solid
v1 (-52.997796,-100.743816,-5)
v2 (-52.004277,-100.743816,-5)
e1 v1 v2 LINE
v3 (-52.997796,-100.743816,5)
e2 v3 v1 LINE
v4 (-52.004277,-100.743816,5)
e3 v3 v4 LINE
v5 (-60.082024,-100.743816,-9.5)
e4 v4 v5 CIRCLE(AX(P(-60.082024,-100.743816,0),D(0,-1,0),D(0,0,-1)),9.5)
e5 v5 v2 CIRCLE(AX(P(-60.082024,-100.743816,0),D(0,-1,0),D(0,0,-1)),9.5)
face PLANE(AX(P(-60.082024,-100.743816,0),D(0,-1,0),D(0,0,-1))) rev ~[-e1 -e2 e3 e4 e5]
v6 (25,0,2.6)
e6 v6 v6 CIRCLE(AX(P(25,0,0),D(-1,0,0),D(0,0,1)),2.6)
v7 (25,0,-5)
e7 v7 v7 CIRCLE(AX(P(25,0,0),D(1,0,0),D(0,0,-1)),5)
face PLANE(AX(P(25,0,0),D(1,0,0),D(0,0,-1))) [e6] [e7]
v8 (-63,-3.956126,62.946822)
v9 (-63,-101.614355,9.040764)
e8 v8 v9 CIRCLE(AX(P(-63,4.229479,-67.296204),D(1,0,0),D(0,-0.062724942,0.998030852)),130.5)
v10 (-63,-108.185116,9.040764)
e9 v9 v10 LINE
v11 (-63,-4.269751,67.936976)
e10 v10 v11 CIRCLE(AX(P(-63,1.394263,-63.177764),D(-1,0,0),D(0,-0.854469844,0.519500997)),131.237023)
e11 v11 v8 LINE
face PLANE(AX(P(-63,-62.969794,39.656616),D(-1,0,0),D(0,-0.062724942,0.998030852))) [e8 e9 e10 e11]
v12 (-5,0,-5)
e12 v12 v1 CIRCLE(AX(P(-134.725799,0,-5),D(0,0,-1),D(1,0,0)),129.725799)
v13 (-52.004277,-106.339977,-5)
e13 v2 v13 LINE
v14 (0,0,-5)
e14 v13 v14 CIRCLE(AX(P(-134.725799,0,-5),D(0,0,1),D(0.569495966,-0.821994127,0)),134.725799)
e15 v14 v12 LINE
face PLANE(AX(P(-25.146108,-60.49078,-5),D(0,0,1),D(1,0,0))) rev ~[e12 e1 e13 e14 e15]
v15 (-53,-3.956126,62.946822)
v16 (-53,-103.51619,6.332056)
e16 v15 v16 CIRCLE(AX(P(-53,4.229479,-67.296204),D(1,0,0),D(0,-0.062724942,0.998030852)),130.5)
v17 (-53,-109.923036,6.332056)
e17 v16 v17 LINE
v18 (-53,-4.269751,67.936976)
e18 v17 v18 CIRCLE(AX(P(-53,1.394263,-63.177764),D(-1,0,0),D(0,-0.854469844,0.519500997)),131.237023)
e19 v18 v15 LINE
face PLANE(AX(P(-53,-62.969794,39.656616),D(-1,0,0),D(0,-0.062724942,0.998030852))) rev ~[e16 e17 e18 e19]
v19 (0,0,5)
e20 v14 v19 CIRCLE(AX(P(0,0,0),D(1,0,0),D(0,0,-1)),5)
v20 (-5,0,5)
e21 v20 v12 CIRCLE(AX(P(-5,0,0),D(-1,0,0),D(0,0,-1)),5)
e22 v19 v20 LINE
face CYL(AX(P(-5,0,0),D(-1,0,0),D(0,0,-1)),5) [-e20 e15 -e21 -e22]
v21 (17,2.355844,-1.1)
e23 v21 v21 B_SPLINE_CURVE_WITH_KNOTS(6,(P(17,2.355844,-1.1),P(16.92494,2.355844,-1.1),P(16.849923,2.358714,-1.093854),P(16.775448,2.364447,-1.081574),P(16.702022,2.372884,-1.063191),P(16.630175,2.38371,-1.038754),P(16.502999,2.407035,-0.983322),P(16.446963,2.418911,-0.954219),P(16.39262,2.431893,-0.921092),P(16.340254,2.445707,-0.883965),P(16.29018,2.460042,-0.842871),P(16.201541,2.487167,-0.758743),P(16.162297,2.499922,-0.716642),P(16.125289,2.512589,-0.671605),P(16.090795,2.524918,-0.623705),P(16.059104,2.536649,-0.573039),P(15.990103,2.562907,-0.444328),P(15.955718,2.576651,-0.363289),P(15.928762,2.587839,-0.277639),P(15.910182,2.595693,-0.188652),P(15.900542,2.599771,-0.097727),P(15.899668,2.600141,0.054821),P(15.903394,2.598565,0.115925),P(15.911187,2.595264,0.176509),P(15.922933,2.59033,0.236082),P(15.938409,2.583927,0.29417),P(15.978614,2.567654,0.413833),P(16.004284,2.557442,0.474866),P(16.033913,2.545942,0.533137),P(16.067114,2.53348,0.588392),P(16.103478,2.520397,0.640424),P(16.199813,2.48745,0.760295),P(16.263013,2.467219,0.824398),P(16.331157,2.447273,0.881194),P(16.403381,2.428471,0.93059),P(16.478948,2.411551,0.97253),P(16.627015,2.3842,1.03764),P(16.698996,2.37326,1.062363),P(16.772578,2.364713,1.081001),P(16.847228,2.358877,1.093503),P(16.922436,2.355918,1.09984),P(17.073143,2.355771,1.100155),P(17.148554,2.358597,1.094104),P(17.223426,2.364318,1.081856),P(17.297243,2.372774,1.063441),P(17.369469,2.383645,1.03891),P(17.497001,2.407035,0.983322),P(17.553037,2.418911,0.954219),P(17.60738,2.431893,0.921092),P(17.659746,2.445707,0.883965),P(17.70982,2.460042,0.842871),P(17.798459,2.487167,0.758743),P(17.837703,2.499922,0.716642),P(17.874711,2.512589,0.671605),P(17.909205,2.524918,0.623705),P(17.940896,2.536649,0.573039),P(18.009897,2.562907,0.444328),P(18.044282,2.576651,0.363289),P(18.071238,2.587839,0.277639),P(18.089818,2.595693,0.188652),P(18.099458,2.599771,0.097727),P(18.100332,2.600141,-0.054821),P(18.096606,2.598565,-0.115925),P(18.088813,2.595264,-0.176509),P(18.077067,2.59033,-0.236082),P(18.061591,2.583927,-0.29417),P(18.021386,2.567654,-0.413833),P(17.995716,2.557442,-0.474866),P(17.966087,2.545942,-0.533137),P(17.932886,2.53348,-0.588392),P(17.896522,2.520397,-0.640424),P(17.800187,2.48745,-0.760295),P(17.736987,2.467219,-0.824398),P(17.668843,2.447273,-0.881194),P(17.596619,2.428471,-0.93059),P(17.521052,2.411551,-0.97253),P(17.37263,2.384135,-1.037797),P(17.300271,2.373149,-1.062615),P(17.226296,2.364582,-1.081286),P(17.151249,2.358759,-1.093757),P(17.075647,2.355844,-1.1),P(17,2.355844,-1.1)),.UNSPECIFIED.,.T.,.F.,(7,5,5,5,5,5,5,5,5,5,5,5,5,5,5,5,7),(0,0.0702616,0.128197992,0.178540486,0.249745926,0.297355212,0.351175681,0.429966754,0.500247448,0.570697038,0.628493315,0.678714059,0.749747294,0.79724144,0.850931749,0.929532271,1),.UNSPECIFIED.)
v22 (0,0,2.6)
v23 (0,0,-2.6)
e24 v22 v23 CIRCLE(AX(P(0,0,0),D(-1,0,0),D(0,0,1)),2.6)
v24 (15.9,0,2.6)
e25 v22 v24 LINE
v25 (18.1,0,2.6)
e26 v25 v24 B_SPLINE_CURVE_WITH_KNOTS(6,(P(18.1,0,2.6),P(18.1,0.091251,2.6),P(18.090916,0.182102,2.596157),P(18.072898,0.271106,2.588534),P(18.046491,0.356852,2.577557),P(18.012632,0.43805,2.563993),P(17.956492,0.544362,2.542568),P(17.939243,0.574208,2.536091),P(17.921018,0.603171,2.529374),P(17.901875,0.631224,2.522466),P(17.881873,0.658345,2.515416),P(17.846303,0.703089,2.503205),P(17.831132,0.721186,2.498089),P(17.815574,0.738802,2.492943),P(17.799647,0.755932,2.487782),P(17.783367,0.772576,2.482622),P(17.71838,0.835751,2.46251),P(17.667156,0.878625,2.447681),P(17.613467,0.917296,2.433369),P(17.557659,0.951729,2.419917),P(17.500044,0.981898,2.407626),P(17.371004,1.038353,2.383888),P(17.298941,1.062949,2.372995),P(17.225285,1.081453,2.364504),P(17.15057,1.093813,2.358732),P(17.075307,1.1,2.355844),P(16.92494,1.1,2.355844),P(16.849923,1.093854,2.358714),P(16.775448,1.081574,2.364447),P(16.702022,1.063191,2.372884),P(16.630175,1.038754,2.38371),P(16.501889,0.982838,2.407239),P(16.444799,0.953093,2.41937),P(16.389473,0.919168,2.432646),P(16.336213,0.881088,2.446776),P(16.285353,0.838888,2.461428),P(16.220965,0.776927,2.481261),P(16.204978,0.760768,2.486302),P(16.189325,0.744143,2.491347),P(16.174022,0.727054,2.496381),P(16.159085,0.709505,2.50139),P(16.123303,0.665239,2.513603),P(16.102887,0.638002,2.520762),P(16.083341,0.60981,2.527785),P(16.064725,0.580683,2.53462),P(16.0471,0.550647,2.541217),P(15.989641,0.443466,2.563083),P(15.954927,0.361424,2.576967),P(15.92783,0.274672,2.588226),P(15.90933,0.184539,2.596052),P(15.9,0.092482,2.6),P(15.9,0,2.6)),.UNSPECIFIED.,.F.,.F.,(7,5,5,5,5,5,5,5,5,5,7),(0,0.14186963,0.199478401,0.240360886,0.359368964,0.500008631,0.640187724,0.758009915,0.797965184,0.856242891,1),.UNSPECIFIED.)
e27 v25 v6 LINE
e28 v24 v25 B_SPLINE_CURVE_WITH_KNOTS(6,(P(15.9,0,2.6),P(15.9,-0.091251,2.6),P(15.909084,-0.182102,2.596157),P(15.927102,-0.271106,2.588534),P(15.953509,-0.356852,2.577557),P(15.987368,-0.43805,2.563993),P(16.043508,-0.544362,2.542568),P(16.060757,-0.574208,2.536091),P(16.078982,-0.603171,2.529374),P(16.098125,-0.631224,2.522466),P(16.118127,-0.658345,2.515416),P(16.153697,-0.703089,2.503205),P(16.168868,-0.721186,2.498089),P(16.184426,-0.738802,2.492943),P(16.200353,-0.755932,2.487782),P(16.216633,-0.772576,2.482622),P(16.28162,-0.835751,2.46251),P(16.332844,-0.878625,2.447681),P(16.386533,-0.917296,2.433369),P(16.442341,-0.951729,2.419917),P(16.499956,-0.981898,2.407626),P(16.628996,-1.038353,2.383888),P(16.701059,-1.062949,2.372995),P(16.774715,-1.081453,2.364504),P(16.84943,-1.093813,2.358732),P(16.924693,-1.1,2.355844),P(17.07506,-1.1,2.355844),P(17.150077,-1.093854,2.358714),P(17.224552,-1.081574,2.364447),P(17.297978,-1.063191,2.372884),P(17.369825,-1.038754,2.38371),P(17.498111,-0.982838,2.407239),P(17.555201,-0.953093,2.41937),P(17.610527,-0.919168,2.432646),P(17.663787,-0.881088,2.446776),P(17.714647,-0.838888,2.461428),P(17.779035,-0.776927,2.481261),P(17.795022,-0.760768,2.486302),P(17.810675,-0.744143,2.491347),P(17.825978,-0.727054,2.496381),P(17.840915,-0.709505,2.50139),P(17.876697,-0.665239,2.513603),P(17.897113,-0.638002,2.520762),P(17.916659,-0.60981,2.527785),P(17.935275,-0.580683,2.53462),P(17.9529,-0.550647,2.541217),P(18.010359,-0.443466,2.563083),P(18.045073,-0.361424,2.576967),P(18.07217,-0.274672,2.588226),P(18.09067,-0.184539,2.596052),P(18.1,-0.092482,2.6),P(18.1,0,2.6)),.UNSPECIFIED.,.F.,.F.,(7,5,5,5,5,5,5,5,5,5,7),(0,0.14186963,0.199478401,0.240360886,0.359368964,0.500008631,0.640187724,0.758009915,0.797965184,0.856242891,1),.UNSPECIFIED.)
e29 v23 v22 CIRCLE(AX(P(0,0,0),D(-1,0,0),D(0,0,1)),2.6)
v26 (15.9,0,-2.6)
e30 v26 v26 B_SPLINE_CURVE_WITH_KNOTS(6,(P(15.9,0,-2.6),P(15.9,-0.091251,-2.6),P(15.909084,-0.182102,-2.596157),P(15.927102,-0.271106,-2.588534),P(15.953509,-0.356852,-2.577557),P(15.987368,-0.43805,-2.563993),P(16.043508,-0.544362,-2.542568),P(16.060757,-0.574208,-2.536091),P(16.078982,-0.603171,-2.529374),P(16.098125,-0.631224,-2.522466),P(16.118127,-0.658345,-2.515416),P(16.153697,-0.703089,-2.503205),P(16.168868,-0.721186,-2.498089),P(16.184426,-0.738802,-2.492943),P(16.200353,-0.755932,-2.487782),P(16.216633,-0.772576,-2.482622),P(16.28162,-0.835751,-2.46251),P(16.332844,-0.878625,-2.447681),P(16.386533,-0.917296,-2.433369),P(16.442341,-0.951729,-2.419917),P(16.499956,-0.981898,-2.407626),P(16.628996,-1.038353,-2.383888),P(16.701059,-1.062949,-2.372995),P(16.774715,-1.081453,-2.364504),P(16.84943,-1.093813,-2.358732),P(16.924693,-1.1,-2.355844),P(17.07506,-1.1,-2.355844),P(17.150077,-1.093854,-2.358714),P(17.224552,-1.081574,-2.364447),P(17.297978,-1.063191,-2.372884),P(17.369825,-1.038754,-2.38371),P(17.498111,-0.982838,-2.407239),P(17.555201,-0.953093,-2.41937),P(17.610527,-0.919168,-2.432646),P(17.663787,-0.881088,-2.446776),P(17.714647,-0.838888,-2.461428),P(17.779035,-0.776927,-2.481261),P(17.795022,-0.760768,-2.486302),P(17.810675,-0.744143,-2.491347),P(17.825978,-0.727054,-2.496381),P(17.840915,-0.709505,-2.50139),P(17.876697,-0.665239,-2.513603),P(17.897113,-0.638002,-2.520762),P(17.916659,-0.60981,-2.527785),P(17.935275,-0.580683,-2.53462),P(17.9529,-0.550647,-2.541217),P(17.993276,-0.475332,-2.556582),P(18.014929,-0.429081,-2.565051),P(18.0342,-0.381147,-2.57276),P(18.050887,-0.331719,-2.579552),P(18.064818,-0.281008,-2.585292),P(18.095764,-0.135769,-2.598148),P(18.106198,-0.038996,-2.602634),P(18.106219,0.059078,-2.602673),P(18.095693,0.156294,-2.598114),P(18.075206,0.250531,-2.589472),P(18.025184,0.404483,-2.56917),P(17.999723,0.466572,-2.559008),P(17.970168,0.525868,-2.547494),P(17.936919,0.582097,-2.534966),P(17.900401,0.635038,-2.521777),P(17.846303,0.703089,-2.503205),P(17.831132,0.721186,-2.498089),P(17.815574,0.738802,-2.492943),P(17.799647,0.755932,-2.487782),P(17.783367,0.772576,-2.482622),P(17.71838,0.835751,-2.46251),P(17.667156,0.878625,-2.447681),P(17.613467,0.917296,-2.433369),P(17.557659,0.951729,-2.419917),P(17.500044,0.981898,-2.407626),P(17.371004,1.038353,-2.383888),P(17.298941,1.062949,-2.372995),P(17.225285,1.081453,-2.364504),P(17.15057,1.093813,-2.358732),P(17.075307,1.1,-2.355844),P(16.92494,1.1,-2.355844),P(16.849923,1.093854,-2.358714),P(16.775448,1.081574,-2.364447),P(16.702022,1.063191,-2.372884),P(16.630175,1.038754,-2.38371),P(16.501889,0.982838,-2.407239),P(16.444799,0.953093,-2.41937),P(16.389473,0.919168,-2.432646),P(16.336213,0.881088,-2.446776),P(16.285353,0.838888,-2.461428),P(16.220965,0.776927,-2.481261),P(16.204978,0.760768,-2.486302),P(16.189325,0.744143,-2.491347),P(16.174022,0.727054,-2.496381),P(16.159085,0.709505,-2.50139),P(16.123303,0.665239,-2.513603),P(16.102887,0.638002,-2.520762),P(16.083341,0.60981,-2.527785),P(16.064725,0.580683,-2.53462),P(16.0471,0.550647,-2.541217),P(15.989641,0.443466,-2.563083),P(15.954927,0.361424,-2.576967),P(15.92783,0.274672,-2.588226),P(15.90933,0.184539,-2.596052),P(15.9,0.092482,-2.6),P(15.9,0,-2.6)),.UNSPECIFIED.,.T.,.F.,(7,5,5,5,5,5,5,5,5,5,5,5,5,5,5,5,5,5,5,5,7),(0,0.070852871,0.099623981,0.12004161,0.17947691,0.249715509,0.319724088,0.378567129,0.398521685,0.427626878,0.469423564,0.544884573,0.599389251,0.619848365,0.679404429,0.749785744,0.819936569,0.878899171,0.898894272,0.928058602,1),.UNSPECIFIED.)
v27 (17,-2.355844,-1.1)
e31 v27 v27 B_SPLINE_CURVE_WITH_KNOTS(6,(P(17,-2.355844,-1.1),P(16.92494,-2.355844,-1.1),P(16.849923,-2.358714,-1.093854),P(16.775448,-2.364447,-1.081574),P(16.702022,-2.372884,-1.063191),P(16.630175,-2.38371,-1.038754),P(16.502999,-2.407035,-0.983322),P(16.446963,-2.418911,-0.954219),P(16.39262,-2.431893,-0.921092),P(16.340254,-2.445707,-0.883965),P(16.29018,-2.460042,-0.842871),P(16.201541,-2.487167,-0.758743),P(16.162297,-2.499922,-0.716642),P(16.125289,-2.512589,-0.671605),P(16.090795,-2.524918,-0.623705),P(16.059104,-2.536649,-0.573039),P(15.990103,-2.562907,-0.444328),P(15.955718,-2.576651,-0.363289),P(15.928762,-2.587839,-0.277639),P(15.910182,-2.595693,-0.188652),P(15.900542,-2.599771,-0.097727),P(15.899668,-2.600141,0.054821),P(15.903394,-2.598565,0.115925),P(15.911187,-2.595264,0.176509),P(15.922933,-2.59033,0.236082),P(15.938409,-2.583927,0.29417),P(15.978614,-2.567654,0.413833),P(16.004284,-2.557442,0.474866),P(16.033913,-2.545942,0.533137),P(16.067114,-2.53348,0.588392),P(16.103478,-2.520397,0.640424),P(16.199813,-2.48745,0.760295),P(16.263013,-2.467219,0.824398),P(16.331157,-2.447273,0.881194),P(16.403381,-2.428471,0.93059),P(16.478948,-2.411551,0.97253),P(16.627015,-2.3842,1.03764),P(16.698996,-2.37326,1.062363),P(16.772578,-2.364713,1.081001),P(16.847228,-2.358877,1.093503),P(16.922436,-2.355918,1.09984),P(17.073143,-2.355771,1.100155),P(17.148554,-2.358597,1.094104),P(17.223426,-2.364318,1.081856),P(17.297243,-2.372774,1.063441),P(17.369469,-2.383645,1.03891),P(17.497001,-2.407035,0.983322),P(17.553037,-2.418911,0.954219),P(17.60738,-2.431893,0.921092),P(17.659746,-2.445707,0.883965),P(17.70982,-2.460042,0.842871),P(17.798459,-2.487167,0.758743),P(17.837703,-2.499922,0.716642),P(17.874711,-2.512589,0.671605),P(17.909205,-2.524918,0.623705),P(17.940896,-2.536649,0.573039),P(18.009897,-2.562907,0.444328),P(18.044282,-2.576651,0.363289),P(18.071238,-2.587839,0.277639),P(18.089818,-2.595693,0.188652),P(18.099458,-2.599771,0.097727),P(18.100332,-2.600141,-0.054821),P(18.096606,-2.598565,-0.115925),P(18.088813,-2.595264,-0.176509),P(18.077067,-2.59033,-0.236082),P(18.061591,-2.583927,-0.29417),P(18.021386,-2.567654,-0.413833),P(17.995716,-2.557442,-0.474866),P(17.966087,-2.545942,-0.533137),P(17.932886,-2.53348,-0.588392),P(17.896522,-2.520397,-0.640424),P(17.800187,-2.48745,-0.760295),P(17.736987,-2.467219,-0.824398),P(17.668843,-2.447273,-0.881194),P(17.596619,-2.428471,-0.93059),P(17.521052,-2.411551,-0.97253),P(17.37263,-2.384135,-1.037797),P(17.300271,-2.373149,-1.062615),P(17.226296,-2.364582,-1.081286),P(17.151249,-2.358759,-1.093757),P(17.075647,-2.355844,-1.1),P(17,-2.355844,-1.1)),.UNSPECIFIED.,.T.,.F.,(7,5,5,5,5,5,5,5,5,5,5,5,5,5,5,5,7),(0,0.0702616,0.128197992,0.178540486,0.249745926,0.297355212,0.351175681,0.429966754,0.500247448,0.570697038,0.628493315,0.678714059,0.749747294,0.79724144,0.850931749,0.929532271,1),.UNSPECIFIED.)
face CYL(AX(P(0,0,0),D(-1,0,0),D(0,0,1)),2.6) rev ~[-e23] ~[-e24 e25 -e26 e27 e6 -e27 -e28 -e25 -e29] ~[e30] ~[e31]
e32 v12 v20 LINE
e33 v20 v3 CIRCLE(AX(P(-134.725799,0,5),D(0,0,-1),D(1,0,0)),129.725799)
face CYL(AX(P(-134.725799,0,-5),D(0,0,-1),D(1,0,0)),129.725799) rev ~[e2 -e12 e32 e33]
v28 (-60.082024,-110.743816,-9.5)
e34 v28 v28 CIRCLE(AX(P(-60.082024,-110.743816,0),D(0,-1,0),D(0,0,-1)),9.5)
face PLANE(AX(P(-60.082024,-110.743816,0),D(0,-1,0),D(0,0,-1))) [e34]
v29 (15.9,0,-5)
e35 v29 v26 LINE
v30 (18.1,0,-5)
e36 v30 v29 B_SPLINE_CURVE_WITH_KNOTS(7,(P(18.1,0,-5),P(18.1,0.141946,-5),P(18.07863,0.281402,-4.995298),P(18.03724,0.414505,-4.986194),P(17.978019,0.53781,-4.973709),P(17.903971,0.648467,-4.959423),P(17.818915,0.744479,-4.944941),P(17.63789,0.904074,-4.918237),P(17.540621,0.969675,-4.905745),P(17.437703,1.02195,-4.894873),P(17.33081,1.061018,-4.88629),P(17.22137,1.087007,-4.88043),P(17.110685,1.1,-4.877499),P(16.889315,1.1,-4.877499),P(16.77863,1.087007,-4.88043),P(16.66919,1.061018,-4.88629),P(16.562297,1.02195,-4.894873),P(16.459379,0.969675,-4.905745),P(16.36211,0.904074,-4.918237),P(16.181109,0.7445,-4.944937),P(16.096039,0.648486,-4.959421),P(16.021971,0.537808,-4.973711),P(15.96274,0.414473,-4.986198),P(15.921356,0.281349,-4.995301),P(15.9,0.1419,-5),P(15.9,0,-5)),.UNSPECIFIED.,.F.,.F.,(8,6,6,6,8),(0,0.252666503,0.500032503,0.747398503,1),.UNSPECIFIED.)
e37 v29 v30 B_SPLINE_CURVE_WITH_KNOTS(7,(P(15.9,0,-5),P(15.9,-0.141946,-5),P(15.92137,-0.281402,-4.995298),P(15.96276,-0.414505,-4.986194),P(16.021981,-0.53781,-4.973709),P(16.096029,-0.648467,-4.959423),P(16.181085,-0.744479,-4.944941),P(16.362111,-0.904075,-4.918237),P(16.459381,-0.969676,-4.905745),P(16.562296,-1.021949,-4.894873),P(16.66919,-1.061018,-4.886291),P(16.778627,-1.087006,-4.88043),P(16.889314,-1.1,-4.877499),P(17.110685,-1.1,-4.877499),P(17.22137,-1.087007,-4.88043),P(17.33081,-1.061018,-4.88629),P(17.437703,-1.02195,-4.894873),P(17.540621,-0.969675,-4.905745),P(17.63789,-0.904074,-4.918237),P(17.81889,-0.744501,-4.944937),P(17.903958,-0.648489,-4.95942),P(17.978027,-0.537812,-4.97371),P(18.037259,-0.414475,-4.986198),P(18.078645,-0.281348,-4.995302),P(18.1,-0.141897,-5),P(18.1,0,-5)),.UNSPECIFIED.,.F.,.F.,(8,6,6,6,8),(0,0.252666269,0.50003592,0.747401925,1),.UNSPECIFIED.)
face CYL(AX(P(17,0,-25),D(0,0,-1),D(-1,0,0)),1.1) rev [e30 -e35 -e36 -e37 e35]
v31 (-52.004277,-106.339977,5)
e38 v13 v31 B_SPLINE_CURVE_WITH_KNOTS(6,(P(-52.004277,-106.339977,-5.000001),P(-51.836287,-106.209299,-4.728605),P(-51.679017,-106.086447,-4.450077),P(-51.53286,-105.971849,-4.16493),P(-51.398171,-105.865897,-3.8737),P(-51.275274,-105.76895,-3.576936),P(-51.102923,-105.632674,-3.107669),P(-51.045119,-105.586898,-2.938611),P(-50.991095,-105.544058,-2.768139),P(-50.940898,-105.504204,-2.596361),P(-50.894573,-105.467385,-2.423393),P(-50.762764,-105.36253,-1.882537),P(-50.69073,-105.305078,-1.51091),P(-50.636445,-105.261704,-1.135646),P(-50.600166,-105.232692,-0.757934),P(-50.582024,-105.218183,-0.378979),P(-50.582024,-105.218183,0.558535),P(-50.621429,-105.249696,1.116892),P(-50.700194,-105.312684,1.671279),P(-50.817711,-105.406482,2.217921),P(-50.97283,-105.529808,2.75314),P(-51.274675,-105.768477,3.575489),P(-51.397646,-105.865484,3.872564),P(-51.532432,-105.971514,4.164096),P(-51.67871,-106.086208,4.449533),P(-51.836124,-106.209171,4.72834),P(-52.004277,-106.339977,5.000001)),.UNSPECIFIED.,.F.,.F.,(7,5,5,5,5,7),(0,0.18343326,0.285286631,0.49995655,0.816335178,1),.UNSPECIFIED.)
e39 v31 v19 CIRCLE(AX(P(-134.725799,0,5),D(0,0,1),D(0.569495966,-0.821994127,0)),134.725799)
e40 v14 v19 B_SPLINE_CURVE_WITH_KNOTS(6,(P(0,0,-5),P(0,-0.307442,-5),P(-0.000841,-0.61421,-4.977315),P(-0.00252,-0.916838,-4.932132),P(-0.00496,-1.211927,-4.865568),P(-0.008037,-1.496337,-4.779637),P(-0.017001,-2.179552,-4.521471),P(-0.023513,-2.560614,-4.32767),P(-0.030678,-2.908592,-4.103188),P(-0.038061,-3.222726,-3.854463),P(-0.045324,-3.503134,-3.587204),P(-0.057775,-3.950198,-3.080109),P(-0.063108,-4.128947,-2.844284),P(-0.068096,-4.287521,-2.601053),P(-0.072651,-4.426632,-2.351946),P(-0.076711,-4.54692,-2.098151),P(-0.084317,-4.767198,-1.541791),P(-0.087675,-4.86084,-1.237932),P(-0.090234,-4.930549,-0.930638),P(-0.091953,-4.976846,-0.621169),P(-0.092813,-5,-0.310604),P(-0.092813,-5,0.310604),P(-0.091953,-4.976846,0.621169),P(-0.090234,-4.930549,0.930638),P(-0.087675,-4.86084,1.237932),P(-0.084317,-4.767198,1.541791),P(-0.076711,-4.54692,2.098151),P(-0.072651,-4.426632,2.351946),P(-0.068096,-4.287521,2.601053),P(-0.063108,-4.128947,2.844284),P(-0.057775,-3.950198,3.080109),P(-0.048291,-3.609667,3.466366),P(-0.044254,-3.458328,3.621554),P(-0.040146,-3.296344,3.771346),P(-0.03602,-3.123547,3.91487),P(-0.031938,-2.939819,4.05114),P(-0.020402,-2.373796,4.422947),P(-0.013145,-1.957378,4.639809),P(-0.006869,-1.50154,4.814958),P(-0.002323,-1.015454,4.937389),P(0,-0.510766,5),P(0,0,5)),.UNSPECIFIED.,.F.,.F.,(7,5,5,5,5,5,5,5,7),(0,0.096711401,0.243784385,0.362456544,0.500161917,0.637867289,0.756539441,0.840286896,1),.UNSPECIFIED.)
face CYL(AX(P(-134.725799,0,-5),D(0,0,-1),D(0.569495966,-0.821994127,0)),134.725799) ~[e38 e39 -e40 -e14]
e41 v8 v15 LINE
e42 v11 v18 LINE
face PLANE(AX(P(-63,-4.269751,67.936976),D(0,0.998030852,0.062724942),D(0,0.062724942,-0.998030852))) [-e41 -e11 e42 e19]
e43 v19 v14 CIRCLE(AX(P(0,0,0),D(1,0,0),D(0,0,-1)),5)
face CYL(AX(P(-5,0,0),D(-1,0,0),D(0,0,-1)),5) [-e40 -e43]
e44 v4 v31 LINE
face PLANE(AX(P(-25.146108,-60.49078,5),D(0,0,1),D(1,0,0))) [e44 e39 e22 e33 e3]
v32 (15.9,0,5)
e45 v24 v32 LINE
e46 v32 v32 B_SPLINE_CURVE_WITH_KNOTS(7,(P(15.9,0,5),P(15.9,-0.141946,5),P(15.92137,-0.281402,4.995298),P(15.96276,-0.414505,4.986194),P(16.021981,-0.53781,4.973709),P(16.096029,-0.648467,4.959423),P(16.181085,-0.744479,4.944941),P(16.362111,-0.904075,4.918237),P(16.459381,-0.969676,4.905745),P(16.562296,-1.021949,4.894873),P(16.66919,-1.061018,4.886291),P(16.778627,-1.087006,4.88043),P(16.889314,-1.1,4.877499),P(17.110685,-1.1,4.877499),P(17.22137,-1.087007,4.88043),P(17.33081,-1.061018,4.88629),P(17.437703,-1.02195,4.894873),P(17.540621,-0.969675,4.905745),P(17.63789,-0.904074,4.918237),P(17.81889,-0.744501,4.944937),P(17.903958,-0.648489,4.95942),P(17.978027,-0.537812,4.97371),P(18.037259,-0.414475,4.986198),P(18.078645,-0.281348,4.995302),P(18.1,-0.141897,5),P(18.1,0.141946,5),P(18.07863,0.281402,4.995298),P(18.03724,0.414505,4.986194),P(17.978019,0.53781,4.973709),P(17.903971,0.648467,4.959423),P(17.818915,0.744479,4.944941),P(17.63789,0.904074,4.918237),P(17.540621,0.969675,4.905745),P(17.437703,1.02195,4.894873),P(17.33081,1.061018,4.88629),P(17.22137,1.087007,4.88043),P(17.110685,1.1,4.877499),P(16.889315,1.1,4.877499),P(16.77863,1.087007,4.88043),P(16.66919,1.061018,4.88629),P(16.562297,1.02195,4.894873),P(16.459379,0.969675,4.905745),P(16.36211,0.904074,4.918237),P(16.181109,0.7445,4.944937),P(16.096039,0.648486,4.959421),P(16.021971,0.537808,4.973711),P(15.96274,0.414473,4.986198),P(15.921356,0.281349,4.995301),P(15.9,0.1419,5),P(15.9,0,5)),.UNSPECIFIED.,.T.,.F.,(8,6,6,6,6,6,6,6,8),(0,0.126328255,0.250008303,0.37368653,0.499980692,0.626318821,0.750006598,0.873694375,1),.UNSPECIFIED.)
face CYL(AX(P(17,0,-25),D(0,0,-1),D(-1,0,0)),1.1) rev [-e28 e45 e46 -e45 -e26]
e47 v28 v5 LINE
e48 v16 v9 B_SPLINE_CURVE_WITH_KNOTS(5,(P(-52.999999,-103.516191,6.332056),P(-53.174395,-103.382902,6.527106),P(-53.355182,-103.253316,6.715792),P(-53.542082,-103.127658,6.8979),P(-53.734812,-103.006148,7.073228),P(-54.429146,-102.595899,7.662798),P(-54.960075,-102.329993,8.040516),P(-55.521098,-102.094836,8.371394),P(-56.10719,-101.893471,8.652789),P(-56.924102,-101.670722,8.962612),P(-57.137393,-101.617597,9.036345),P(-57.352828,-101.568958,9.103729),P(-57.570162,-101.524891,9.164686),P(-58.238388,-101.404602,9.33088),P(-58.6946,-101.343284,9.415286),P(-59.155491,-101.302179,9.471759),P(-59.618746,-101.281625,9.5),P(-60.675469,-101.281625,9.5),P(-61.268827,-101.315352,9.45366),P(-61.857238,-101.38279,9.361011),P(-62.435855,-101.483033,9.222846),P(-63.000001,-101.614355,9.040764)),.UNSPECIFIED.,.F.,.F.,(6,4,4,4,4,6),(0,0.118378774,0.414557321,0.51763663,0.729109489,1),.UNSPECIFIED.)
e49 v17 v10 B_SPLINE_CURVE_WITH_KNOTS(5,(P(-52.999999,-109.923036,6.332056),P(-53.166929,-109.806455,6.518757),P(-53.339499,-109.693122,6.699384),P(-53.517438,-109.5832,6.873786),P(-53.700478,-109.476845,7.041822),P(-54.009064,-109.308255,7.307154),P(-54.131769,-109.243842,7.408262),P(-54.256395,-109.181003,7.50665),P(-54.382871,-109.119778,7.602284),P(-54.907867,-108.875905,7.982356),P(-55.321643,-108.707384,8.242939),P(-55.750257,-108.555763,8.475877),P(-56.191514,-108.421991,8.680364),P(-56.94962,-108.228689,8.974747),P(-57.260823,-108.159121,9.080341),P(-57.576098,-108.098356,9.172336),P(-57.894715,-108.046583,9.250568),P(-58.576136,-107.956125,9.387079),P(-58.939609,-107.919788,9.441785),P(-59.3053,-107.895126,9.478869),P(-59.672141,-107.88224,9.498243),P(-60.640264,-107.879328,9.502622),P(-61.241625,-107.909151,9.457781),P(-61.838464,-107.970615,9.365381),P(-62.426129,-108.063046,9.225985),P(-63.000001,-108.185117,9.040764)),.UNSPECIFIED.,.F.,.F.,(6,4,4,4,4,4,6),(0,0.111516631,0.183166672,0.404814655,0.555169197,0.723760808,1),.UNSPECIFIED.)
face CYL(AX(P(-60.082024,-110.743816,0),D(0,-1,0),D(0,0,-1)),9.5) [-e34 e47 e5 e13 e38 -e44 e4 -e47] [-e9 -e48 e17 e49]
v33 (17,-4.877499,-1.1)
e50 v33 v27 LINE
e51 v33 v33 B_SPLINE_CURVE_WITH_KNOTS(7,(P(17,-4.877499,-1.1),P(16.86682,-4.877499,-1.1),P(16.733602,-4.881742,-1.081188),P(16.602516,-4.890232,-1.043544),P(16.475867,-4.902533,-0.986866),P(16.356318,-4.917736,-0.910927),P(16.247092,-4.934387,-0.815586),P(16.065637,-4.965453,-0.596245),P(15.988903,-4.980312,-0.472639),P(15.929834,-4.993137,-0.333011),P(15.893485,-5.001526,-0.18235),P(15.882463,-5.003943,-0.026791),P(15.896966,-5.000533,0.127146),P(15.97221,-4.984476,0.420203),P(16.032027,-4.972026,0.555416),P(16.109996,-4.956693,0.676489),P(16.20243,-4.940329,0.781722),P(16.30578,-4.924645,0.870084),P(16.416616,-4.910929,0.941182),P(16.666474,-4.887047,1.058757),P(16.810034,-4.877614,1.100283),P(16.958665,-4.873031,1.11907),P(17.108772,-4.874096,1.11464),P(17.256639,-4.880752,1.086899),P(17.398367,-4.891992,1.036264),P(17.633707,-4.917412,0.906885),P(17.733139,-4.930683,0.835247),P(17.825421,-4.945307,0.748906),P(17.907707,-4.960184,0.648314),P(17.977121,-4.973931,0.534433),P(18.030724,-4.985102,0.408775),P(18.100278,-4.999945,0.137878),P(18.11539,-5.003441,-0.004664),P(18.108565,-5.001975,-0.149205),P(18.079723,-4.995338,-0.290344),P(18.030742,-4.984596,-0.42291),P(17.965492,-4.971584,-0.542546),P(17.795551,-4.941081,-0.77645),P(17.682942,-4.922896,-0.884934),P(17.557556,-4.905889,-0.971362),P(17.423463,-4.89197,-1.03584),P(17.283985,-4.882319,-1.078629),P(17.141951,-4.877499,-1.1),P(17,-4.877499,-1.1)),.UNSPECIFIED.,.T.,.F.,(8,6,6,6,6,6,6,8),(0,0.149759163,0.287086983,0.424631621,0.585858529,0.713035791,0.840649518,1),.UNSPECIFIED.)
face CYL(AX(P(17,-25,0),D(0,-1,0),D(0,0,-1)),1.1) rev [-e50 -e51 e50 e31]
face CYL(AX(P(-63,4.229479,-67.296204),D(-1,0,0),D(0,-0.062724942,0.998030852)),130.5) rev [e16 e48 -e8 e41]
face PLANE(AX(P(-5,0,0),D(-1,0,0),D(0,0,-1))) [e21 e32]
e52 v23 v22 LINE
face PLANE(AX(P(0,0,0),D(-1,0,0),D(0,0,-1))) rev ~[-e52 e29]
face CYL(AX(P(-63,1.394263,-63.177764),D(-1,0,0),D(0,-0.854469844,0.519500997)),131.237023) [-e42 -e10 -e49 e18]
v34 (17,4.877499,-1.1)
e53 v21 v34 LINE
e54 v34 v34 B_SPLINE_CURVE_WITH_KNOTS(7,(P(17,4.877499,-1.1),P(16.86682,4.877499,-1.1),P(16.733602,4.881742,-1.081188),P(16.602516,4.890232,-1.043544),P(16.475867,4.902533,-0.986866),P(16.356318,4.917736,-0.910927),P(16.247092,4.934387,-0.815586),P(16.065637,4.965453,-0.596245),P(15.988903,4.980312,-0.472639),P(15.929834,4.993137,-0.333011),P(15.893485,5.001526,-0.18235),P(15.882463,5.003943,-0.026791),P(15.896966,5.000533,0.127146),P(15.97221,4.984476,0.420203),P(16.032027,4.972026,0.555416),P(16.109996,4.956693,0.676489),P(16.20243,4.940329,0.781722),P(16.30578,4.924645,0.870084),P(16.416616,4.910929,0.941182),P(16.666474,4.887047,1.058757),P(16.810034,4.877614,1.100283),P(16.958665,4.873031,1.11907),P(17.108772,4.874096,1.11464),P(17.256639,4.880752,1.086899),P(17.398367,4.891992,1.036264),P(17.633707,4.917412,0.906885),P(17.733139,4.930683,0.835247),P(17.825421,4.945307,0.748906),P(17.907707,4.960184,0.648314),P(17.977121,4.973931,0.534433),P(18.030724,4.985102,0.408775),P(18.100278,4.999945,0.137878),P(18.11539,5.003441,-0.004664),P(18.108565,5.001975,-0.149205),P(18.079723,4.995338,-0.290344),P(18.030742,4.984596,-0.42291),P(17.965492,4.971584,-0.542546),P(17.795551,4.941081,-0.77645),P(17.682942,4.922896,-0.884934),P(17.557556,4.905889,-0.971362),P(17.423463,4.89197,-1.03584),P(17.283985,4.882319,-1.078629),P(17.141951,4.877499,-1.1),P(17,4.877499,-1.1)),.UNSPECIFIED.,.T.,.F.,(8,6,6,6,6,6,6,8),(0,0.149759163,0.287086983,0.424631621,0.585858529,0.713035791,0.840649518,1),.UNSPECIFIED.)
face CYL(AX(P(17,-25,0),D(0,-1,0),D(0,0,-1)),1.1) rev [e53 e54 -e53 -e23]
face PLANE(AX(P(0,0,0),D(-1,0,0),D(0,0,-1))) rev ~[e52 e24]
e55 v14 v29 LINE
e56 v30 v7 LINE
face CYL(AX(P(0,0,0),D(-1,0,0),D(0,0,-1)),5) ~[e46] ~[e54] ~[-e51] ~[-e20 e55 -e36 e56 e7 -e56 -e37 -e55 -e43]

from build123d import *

# Parameters (mm, degrees)
SKETCH1_R                = 5
BOSS_EXTRUDE1_DEPTH      = 25
SKETCH2_R                = 2.6
CUT_EXTRUDE1_DEPTH       = 25
CUT_EXTRUDE3_DEPTH       = 25
CUT_EXTRUDE3_DEPTH_BACK  = 25
SKETCH3_R                = 1.1
CUT_EXTRUDE4_DEPTH       = 25
CUT_EXTRUDE4_DEPTH_BACK  = 25
SKETCH4_R                = 1.1
BOSS_EXTRUDE2_DEPTH      = 5
BOSS_EXTRUDE2_DEPTH_BACK = 5
BOSS_EXTRUDE3_START      = 5
SKETCH6_R                = 5
BOSS_EXTRUDE3_DEPTH      = 5
BOSS_EXTRUDE4_DEPTH      = 5
BOSS_EXTRUDE4_DEPTH_BACK = 5
SKETCH8_R                = 9.5
BOSS_EXTRUDE10_DEPTH     = 10


with BuildPart() as part:
    # Sketch1 → Boss-Extrude1 (new body)
    with BuildSketch(Plane(origin=(0, 0, 0), x_dir=(0, 0, -1), z_dir=(1, 0, 0))):
        Circle(SKETCH1_R)
    extrude(amount=BOSS_EXTRUDE1_DEPTH)

    # Sketch2 → Cut-Extrude1 (cut)
    with BuildSketch(Plane.ZY):
        Circle(SKETCH2_R)
    extrude(amount=-CUT_EXTRUDE1_DEPTH, mode=Mode.SUBTRACT)

    # Sketch3 → Cut-Extrude3 (cut, two sides: drawn at the far end of the back side and taken through both)
    with BuildSketch(Plane(origin=(0, 0, 0), x_dir=(1, 0, 0), z_dir=(0, 1, 0)).offset(-CUT_EXTRUDE3_DEPTH_BACK)):
        with Locations((17, 0)):
            Circle(SKETCH3_R)
    extrude(amount=CUT_EXTRUDE3_DEPTH + CUT_EXTRUDE3_DEPTH_BACK, mode=Mode.SUBTRACT)

    # Sketch4 → Cut-Extrude4 (cut, two sides: drawn at the far end of the back side and taken through both)
    with BuildSketch(Plane.XY.offset(-CUT_EXTRUDE4_DEPTH_BACK)):
        with Locations((17, 0)):
            Circle(SKETCH4_R)
    extrude(amount=CUT_EXTRUDE4_DEPTH + CUT_EXTRUDE4_DEPTH_BACK, mode=Mode.SUBTRACT)



with BuildPart() as body_2:
    # Sketch5 → Boss-Extrude2 (new, two sides: drawn at the far end of the back side and taken through both)
    with BuildSketch(Plane.XY.offset(-BOSS_EXTRUDE2_DEPTH_BACK)):
        with BuildLine():
            Line((0, 0), (-5, 0))
            ThreePointArc((-5, 0), (-21.603552953, -63.499136863), (-67.164047662, -110.743815663))
            Line((-67.164047662, -110.743815663), (-58, -110.743815663))
            ThreePointArc((-58, -110.743815663), (-15.377599409, -62.506385089), (0, 0))
        make_face()
    extrude(amount=BOSS_EXTRUDE2_DEPTH + BOSS_EXTRUDE2_DEPTH_BACK)


with BuildPart() as part_1:
    add(part.part)

    add(body_2.part)  # Boss-Extrude3 merges body 2
    # Sketch6 → Boss-Extrude3 (add)
    with BuildSketch(Plane.ZY.offset(BOSS_EXTRUDE3_START)):
        Circle(SKETCH6_R)
    extrude(amount=-BOSS_EXTRUDE3_DEPTH)

    # Sketch7 → Boss-Extrude4 (add, two sides: drawn at the far end of the back side and taken through both)
    with BuildSketch(Plane(origin=(-58, -130.891746243, -8.226376206), x_dir=(0, 0.0627249424806172, -0.998030852023525), z_dir=(1, 0, 0)).offset(-BOSS_EXTRUDE4_DEPTH_BACK)):
        with BuildLine():
            Line((-68.071017976, 131.15), (-63.071017976, 131.15))
            ThreePointArc((-63.071017976, 131.15), (-46.774831734, 68.001453515), (-1.956245207, 20.624255297))
            Line((-1.956245207, 20.624255297), (-11.936553728, 20.93788001))
            ThreePointArc((-11.936553728, 20.93788001), (-53.801421124, 69.016374761), (-68.071017976, 131.15))
        make_face()
    extrude(amount=BOSS_EXTRUDE4_DEPTH + BOSS_EXTRUDE4_DEPTH_BACK)

    # Sketch8 → Boss-Extrude10 (add)
    with BuildSketch(Plane.XZ.offset(110.743815663)):
        with Locations((-60.082023831, 0)):
            Circle(SKETCH8_R)
    extrude(amount=-BOSS_EXTRUDE10_DEPTH)


solid = part_1.part
